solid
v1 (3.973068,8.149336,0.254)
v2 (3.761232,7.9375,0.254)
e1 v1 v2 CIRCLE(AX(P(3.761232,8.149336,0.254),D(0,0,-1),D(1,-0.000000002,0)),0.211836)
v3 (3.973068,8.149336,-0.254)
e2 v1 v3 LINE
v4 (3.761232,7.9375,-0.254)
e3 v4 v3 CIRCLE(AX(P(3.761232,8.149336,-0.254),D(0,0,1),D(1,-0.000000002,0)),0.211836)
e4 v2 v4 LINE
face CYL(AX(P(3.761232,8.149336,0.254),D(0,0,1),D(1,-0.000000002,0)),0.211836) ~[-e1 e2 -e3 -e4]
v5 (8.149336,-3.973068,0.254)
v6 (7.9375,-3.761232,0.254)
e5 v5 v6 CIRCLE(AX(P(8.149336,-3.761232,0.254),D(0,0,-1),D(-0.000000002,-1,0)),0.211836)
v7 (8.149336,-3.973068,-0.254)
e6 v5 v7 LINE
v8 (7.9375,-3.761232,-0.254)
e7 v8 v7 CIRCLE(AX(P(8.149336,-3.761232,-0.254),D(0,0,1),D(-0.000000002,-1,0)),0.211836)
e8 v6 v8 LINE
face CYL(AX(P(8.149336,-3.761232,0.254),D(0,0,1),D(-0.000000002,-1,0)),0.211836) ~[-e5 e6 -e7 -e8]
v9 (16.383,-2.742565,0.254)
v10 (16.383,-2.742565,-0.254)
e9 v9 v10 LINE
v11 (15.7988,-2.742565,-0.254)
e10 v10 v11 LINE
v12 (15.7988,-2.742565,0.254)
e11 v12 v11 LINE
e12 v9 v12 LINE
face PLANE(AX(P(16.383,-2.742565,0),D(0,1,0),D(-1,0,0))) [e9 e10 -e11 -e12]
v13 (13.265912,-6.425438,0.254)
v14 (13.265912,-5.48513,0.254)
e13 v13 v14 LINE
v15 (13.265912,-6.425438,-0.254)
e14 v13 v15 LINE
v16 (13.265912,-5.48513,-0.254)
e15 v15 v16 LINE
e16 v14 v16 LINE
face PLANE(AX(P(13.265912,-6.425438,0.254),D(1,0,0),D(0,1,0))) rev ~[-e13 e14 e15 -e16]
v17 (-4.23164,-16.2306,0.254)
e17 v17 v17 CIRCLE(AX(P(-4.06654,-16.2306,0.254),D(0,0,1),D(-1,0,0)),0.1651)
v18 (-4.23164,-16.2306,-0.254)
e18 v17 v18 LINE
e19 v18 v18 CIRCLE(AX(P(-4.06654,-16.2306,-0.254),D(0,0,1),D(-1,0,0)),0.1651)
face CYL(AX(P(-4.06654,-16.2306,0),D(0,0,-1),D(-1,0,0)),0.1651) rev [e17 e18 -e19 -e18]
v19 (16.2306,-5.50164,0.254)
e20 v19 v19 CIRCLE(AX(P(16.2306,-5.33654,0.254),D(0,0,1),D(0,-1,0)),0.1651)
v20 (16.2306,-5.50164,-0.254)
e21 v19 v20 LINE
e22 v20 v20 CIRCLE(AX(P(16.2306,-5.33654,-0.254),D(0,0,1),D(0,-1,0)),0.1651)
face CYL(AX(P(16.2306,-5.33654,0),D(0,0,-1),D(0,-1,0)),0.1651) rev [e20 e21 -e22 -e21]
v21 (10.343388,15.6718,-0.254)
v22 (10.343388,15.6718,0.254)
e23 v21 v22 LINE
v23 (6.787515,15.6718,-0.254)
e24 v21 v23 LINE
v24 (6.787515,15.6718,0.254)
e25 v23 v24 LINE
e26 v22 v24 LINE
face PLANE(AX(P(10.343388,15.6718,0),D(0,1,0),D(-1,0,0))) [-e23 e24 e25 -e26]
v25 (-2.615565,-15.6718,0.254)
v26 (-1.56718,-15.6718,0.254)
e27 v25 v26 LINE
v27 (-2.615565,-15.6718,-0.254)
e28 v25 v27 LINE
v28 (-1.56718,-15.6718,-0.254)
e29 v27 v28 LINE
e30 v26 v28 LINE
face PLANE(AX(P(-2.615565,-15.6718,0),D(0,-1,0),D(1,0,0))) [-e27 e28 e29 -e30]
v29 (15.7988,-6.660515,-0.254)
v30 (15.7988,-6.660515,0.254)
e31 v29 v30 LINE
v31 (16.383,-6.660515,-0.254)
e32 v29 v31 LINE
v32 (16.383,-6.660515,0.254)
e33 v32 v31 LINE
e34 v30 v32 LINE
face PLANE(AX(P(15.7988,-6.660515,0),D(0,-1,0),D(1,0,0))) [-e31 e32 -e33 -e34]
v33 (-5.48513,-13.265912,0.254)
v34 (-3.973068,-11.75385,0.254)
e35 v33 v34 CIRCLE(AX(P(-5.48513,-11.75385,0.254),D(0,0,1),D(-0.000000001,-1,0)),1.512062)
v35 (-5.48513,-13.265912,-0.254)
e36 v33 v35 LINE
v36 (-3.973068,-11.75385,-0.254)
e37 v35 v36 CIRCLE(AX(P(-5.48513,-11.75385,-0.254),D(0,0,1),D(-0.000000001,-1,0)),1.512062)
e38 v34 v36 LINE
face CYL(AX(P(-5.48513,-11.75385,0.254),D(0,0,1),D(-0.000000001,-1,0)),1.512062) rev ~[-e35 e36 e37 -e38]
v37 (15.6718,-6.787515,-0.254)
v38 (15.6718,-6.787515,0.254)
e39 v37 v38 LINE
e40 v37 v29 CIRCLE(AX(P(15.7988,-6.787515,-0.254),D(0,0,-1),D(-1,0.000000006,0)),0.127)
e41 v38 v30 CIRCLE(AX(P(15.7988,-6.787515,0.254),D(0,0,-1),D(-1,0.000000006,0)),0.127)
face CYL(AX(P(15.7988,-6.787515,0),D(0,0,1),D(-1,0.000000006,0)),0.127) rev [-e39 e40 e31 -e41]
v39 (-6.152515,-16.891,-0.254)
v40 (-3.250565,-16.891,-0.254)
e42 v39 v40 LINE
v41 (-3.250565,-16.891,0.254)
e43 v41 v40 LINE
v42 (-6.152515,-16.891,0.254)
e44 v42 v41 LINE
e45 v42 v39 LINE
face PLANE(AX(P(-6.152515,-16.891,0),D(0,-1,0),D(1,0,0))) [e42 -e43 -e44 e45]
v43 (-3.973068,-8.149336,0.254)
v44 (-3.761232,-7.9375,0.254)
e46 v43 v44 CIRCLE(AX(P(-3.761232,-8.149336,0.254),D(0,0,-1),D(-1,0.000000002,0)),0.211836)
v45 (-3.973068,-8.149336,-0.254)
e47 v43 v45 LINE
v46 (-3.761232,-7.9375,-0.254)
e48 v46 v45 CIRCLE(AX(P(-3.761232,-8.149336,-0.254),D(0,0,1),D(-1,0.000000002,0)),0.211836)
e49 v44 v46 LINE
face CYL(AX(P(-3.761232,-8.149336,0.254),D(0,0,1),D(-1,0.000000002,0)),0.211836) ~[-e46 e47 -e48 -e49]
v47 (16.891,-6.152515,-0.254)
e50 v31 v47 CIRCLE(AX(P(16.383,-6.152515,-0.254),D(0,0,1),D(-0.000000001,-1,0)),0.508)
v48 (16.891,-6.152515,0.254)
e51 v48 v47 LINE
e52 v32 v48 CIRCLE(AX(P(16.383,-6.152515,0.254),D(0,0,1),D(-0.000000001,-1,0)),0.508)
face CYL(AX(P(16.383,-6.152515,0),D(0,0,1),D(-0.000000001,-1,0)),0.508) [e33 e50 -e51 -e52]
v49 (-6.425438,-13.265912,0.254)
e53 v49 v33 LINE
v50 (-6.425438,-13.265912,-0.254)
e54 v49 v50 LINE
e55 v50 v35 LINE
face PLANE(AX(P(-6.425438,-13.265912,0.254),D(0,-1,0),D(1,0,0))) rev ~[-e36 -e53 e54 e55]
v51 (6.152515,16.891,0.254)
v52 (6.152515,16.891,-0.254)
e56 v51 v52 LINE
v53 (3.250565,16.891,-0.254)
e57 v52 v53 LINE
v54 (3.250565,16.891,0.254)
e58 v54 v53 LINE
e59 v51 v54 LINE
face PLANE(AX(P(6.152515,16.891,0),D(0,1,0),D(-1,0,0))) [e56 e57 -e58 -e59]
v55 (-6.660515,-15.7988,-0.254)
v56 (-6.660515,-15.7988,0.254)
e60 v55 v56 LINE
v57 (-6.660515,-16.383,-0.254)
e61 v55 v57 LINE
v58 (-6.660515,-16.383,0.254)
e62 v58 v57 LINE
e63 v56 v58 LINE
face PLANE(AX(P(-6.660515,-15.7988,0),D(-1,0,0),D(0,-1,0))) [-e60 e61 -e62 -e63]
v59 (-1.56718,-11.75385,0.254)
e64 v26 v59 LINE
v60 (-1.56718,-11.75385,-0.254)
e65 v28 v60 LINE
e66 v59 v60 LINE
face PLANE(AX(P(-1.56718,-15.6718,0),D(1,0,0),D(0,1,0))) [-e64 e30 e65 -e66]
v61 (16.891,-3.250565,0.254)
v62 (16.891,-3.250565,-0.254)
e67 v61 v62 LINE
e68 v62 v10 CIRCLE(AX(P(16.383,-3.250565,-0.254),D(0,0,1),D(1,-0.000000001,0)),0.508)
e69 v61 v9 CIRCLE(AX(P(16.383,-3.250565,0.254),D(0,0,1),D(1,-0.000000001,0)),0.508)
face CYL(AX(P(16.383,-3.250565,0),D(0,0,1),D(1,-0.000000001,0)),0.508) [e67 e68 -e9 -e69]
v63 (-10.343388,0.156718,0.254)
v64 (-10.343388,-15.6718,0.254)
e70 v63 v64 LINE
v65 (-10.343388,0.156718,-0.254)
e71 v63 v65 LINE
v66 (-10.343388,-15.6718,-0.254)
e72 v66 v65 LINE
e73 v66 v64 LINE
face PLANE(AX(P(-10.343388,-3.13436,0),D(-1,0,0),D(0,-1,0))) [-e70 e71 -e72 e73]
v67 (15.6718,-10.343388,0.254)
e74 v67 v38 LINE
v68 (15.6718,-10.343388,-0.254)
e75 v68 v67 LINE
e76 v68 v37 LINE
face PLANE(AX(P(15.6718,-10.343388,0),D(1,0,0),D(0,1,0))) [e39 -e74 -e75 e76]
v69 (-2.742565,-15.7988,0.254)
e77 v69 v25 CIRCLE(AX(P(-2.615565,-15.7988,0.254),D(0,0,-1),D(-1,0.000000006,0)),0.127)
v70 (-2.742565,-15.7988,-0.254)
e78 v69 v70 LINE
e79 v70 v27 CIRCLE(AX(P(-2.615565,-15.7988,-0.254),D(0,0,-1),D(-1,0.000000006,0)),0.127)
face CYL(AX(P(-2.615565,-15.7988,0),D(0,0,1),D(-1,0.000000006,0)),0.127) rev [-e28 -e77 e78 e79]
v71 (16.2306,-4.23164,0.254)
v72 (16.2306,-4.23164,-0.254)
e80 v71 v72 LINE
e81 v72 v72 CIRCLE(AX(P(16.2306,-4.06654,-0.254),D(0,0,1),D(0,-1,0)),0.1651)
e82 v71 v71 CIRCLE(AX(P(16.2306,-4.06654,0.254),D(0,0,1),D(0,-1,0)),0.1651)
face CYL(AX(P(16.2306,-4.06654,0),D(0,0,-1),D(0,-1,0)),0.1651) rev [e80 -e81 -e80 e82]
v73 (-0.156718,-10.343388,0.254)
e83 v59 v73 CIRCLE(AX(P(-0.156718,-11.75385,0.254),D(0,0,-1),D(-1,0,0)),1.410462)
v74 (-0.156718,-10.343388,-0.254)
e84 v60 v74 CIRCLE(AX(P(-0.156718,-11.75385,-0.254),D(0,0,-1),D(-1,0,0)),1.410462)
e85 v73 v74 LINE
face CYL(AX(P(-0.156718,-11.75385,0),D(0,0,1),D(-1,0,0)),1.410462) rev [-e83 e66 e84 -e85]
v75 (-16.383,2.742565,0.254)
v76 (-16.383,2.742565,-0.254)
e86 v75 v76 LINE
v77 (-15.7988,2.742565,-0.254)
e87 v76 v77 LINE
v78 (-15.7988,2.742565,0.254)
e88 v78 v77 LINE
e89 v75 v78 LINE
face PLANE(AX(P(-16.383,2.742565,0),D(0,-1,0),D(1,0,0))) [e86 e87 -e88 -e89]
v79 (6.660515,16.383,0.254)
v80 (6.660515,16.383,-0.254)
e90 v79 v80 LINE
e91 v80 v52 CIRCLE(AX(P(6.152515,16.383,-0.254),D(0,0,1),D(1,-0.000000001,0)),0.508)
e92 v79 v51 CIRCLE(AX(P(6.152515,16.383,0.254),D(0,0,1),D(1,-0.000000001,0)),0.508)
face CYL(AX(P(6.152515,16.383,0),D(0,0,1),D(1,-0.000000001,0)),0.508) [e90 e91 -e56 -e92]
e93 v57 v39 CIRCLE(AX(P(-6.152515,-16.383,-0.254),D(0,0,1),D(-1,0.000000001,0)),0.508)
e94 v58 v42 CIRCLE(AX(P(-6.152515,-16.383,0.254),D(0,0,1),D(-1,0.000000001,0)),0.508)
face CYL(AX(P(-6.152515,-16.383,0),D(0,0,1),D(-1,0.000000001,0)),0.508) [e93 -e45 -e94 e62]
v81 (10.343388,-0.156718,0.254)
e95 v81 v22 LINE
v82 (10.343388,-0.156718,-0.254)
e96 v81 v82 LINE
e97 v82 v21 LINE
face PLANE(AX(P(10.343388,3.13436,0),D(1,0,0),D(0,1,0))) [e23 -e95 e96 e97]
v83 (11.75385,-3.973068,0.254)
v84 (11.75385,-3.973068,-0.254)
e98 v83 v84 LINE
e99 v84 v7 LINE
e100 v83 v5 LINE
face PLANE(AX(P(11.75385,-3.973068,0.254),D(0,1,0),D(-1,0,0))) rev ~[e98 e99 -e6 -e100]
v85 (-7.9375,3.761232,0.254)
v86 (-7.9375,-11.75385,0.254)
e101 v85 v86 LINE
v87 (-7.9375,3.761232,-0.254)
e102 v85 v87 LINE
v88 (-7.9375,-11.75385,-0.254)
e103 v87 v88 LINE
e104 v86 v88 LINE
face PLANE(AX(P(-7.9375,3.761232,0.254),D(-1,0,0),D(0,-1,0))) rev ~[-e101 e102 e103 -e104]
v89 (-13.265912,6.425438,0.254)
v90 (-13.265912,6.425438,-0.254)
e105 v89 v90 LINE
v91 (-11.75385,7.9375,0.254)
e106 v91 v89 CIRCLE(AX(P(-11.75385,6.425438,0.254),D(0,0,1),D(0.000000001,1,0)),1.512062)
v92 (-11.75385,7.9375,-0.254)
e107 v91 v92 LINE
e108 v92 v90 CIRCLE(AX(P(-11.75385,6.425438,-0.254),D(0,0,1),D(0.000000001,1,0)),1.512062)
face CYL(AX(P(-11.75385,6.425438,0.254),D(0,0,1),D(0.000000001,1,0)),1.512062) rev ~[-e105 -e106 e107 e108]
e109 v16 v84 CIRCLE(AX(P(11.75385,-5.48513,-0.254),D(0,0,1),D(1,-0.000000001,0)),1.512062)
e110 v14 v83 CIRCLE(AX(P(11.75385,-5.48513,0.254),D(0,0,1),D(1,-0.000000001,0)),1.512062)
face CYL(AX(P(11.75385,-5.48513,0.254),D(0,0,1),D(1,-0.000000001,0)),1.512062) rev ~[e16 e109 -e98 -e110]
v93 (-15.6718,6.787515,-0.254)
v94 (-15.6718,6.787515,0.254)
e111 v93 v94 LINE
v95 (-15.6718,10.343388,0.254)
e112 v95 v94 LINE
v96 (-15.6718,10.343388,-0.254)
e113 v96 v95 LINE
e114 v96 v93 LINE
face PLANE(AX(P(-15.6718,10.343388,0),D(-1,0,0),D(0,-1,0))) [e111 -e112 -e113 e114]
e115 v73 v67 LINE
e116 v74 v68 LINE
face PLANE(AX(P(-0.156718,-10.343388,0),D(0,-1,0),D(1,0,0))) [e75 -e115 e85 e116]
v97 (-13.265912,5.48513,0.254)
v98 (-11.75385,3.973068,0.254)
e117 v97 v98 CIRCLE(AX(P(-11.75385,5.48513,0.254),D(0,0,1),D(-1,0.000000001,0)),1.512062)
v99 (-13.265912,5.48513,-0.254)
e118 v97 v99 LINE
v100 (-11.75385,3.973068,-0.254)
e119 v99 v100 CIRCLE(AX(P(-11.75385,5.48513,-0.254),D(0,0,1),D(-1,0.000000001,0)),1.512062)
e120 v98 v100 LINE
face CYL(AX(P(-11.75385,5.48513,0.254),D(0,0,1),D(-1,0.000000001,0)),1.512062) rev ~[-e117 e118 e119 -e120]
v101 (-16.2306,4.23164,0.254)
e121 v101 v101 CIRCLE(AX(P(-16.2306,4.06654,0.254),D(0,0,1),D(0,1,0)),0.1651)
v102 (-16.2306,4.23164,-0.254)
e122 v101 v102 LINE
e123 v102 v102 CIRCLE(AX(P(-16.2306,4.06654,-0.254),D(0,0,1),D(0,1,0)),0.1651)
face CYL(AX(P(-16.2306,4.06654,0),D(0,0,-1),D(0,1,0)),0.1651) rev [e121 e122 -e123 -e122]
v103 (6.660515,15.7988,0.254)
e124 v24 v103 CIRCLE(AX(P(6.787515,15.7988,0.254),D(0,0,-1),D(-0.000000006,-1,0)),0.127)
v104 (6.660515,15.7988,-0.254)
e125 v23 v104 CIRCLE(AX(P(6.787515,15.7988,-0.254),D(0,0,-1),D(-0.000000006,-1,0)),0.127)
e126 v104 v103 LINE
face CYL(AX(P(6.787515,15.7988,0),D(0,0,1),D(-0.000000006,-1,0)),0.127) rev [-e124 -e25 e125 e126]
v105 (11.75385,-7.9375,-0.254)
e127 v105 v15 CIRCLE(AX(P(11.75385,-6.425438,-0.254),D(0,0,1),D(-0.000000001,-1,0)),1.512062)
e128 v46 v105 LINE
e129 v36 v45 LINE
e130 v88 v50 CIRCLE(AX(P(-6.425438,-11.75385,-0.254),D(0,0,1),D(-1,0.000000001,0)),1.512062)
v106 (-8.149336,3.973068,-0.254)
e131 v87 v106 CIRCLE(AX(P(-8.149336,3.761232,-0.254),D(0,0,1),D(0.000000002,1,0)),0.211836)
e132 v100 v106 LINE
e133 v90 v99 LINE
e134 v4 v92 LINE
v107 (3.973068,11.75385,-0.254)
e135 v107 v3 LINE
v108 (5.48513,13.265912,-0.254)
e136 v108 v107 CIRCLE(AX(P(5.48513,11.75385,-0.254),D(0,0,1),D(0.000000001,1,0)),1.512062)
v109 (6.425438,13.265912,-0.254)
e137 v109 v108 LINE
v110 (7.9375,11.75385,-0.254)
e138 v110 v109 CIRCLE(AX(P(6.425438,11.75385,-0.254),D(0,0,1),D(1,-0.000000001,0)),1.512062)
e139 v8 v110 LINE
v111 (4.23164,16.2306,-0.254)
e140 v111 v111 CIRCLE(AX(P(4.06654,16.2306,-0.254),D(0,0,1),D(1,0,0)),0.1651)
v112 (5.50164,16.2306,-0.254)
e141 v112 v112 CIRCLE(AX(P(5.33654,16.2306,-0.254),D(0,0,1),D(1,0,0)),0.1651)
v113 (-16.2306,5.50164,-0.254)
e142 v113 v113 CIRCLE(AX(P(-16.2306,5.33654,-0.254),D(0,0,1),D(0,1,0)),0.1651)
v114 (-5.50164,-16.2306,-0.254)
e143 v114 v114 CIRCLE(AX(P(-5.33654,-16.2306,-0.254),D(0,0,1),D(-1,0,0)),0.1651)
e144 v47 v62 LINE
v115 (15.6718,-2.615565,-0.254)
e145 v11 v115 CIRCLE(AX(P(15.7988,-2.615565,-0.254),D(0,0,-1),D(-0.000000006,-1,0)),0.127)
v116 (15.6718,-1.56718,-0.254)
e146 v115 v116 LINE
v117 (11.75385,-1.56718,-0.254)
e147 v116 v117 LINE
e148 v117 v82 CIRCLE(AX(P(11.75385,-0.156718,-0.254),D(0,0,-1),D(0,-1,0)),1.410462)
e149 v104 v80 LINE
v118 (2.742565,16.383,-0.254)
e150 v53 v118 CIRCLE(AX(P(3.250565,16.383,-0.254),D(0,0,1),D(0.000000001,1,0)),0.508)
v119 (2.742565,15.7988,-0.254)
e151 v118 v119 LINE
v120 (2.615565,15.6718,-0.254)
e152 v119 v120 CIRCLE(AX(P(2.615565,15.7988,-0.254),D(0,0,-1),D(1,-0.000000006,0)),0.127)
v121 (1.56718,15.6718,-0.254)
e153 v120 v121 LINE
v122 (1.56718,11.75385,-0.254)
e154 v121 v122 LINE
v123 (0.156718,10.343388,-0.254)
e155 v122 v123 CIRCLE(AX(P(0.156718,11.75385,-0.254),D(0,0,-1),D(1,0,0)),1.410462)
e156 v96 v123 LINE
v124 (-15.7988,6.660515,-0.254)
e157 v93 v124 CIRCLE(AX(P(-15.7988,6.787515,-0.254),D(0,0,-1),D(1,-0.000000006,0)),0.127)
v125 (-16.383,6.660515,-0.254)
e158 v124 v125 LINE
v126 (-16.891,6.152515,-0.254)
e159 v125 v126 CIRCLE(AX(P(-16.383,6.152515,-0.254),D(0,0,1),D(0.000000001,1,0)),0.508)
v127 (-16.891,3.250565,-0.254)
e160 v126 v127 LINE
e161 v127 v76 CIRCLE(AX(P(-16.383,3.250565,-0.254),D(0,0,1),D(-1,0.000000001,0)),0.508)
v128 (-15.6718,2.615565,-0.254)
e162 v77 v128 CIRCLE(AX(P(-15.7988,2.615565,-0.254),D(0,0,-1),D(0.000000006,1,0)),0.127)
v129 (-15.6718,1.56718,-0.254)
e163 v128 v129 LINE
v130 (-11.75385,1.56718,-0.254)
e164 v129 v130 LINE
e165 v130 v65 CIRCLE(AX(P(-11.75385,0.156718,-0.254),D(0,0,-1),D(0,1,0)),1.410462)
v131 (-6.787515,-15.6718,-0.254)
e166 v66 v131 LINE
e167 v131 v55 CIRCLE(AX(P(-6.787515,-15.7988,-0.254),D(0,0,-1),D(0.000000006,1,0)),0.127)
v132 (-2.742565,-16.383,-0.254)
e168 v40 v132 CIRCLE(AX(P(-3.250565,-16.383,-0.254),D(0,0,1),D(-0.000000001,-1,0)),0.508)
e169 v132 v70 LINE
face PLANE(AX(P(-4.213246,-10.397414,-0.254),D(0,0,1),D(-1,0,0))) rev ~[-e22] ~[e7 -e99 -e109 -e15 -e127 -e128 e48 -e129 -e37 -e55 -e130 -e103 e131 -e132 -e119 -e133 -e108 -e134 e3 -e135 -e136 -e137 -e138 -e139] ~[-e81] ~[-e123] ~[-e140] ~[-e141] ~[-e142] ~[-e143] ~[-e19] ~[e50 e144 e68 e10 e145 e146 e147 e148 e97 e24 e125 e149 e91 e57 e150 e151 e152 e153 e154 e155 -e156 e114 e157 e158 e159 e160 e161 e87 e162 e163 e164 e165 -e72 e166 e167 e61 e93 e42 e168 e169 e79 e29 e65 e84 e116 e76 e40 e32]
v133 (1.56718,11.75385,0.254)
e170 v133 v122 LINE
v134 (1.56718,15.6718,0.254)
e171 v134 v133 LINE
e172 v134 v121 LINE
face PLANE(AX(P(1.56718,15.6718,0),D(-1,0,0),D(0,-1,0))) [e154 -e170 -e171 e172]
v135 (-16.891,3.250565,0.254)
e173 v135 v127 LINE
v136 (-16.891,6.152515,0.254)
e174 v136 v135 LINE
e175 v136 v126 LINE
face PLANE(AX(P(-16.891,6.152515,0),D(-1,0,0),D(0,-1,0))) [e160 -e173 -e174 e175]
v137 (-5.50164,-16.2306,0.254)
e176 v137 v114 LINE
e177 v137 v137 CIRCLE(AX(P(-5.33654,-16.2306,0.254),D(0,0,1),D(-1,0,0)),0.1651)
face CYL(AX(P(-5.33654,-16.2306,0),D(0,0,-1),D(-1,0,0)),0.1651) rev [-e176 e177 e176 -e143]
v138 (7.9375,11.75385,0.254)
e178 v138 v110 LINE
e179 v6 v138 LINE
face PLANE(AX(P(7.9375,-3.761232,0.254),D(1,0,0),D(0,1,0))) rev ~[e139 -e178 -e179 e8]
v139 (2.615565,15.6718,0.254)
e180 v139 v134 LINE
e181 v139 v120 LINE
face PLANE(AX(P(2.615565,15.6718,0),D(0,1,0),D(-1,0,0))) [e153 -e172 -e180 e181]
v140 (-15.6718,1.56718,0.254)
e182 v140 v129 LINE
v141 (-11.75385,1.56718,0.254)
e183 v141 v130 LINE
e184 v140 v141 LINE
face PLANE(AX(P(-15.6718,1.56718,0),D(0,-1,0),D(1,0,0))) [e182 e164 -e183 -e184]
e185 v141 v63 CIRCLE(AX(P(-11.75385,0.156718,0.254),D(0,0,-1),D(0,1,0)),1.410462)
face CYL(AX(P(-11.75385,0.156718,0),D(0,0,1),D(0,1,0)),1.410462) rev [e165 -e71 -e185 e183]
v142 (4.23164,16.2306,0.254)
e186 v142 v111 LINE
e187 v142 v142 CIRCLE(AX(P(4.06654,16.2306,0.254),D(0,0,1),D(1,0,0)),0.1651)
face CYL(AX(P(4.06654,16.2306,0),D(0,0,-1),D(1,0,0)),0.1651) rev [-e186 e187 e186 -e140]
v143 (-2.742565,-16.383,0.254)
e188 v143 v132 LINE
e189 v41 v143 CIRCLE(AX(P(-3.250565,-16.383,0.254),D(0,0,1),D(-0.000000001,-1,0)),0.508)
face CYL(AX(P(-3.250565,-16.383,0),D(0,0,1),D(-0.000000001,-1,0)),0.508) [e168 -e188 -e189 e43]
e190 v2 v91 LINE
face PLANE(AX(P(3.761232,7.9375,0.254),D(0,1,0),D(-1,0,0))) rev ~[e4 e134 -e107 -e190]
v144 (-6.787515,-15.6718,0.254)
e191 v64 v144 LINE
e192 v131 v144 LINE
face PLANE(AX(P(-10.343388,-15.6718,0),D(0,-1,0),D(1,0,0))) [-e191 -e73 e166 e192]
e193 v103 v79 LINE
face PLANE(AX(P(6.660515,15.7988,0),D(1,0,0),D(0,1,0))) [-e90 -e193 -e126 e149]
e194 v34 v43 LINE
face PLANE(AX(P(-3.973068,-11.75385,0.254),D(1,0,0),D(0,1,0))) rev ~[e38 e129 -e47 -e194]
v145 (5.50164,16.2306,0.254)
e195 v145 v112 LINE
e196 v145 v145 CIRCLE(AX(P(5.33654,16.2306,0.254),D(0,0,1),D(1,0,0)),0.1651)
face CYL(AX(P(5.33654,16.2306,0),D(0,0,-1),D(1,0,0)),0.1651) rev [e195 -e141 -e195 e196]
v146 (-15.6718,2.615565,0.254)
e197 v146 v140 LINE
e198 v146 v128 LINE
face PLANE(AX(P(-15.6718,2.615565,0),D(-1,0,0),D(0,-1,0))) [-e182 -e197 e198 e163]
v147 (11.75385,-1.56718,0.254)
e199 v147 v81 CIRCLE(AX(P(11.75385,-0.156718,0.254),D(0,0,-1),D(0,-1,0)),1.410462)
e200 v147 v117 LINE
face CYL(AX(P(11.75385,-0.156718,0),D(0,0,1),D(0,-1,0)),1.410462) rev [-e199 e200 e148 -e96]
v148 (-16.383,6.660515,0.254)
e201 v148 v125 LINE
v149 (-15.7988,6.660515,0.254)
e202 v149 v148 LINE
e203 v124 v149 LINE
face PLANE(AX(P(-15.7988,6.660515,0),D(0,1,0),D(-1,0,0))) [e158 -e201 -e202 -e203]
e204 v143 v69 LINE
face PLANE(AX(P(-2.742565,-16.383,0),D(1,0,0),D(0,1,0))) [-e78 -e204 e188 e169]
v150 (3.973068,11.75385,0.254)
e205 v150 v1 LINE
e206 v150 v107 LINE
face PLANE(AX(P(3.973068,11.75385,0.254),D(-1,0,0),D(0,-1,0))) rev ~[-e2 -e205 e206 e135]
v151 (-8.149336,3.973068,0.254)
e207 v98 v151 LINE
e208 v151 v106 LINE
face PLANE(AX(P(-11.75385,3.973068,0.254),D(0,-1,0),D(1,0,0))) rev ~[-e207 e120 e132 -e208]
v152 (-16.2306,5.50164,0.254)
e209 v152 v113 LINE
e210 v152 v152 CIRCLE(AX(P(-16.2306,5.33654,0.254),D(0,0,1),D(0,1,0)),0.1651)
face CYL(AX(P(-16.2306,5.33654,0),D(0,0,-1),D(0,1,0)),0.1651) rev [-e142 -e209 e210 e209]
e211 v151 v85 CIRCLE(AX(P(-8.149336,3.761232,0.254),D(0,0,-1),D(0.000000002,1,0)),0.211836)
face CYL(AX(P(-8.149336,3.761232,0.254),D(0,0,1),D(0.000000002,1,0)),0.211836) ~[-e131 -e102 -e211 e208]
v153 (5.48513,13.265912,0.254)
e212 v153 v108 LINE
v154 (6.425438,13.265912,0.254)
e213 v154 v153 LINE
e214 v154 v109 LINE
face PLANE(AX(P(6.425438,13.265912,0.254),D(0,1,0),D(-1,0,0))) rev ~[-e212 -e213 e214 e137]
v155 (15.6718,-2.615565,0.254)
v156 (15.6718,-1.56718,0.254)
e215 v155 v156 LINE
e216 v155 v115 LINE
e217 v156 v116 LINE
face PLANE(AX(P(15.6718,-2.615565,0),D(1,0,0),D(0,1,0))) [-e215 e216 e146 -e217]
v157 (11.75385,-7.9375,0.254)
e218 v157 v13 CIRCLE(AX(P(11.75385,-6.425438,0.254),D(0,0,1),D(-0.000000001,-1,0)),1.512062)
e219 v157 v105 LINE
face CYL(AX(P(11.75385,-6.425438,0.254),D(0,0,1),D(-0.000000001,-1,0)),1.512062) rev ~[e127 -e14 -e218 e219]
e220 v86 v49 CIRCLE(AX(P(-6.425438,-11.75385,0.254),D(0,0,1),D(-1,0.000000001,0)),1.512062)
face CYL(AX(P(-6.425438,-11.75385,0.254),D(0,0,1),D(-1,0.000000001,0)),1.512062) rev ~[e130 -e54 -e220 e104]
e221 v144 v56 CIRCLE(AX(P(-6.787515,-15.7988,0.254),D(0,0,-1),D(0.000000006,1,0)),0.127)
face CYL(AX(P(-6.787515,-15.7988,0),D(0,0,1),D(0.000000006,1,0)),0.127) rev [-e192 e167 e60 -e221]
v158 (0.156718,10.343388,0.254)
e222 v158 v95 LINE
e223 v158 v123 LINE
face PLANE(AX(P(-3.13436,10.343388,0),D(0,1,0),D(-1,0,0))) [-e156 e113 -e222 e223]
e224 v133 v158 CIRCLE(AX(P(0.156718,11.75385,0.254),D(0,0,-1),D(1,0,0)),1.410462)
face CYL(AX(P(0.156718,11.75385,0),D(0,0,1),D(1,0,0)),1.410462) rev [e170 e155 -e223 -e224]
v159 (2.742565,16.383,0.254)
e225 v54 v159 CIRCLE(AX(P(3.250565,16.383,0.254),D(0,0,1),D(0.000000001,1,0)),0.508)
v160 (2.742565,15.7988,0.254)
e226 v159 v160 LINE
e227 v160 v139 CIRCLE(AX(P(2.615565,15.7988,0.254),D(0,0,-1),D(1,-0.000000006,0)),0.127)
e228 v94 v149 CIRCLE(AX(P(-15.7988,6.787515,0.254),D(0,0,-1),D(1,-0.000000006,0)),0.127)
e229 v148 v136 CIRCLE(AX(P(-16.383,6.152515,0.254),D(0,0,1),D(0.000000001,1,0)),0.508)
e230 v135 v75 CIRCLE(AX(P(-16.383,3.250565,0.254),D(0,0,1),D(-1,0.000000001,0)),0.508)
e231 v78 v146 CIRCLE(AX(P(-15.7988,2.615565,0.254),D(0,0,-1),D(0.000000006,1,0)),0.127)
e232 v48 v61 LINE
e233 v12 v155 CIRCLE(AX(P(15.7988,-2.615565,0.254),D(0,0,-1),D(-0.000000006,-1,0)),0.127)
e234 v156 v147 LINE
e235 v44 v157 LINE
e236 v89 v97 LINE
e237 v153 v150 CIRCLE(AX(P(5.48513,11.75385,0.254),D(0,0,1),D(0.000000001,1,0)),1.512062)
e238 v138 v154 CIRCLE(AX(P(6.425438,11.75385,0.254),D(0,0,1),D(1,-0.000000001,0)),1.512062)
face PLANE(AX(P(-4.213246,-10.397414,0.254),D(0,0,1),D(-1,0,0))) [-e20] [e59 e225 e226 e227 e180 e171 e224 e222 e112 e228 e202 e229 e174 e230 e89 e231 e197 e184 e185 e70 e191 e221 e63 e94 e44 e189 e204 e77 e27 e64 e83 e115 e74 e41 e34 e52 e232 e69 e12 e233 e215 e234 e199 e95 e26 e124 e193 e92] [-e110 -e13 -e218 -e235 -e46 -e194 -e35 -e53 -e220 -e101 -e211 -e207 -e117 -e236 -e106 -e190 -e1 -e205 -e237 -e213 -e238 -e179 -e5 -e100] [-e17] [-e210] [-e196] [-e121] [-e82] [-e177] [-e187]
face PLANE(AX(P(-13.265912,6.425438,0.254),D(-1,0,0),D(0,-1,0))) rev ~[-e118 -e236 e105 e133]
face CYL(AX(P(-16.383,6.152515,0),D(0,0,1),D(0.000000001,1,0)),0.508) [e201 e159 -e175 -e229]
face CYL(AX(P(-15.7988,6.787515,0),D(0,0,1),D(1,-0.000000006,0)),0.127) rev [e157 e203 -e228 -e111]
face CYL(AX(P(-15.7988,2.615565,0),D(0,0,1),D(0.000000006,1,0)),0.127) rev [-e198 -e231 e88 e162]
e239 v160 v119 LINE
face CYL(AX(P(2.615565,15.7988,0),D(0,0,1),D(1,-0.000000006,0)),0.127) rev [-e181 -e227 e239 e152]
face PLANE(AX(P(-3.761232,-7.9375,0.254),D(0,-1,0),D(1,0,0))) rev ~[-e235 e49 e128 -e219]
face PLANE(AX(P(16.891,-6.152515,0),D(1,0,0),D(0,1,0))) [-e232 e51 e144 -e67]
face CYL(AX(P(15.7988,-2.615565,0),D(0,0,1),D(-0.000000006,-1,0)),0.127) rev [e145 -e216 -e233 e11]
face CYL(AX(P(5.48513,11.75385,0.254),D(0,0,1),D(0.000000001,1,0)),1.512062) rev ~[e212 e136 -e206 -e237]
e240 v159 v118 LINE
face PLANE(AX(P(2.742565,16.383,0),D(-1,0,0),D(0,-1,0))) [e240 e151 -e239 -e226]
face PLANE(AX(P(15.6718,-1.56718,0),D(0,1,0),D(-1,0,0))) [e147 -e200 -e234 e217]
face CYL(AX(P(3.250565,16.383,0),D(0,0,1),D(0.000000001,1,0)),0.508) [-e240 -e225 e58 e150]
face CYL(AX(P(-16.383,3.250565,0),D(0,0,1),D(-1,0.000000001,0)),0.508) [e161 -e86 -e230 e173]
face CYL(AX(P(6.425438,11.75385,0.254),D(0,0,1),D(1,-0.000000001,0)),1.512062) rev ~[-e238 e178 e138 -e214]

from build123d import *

# Parameters (mm, degrees)
SKETCH2_R          = 0.1651
EXTRUDE1_DEPTH     = 0.254
CIRPATTERN1_COUNT  = 4
CUT_EXTRUDE3_DEPTH = 0.635


with BuildPart() as part:
    # Sketch2 → Extrude1 (new, symmetric)
    with BuildSketch(Plane.XY):
        with BuildLine():
            Line((-6.26872, 7.8359), (3.761232, 7.8359))
            ThreePointArc((3.761232, 7.8359), (3.982864721, 7.927703279), (4.074668, 8.149336))
            Line((4.074668, 8.149336), (4.074668, 11.75385))
            ThreePointArc((4.074668, 11.75385), (4.487782755, 12.751197245), (5.48513, 13.164312))
            Line((5.48513, 13.164312), (6.425438, 13.164312))
            ThreePointArc((6.425438, 13.164312), (7.422785245, 12.751197245), (7.8359, 11.75385))
            Line((7.8359, 11.75385), (7.8359, 3.13436))
            Line((7.8359, 3.13436), (10.343388, 3.13436))
            Line((10.343388, 3.13436), (10.343388, 15.6718))
            Line((10.343388, 15.6718), (6.787515, 15.6718))
            ThreePointArc((6.787515, 15.6718), (6.697712439, 15.708997439), (6.660515, 15.7988))
            Line((6.660515, 15.7988), (6.660515, 16.383))
            ThreePointArc((6.660515, 16.383), (6.511725245, 16.742210245), (6.152515, 16.891))
            Line((6.152515, 16.891), (3.250565, 16.891))
            ThreePointArc((3.250565, 16.891), (2.891354755, 16.742210245), (2.742565, 16.383))
            Line((2.742565, 16.383), (2.742565, 15.7988))
            ThreePointArc((2.742565, 15.7988), (2.705367561, 15.708997439), (2.615565, 15.6718))
            Line((2.615565, 15.6718), (1.56718, 15.6718))
            Line((1.56718, 15.6718), (1.56718, 11.75385))
            ThreePointArc((1.56718, 11.75385), (1.154065245, 10.756502755), (0.156718, 10.343388))
            Line((0.156718, 10.343388), (-6.26872, 10.343388))
            Line((-6.26872, 10.343388), (-6.26872, 7.8359))
        make_face()
        with Locations((4.06654, 16.2306)):
            Circle(SKETCH2_R, mode=Mode.SUBTRACT)
        with Locations((5.33654, 16.2306)):
            Circle(SKETCH2_R, mode=Mode.SUBTRACT)
    extrude1 = extrude(amount=EXTRUDE1_DEPTH, both=True)

    # CirPattern1: Extrude1 ×4 about axis
    cirpattern1_axis = Axis((0, 0, -69.733664692), (0, 0, 1))
    for i in range(1, CIRPATTERN1_COUNT):
        add(extrude1.rotate(cirpattern1_axis, i * 360 / CIRPATTERN1_COUNT))

    # Sketch7 → Cut-Extrude3 (cut)
    with BuildSketch(Plane.XY.offset(0.254)):
        with BuildLine():
            Line((-11.75385, 3.973068), (-8.149336, 3.973068))
            ThreePointArc((-8.149336, 3.973068), (-7.999545328, 3.911022672), (-7.9375, 3.761232))
            Line((-7.9375, 3.761232), (-7.9375, -11.75385))
            ThreePointArc((-7.9375, -11.75385), (-7.494627294, -12.823039294), (-6.425438, -13.265912))
            Line((-6.425438, -13.265912), (-5.48513, -13.265912))
            ThreePointArc((-5.48513, -13.265912), (-4.415940706, -12.823039294), (-3.973068, -11.75385))
            Line((-3.973068, -11.75385), (-3.973068, -8.149336))
            ThreePointArc((-3.973068, -8.149336), (-3.911022672, -7.999545328), (-3.761232, -7.9375))
            Line((-3.761232, -7.9375), (11.75385, -7.9375))
            ThreePointArc((11.75385, -7.9375), (12.823039294, -7.494627294), (13.265912, -6.425438))
            Line((13.265912, -6.425438), (13.265912, -5.48513))
            ThreePointArc((13.265912, -5.48513), (12.823039294, -4.415940706), (11.75385, -3.973068))
            Line((11.75385, -3.973068), (8.149336, -3.973068))
            ThreePointArc((8.149336, -3.973068), (7.999545328, -3.911022672), (7.9375, -3.761232))
            Line((7.9375, -3.761232), (7.9375, 11.75385))
            ThreePointArc((7.9375, 11.75385), (7.494627294, 12.823039294), (6.425438, 13.265912))
            Line((6.425438, 13.265912), (5.48513, 13.265912))
            ThreePointArc((5.48513, 13.265912), (4.415940706, 12.823039294), (3.973068, 11.75385))
            Line((3.973068, 11.75385), (3.973068, 8.149336))
            ThreePointArc((3.973068, 8.149336), (3.911022672, 7.999545328), (3.761232, 7.9375))
            Line((3.761232, 7.9375), (-11.75385, 7.9375))
            ThreePointArc((-11.75385, 7.9375), (-12.823039294, 7.494627294), (-13.265912, 6.425438))
            Line((-13.265912, 6.425438), (-13.265912, 5.48513))
            ThreePointArc((-13.265912, 5.48513), (-12.823039294, 4.415940706), (-11.75385, 3.973068))
        make_face()
    extrude(amount=-CUT_EXTRUDE3_DEPTH, mode=Mode.SUBTRACT)


solid = part.part
